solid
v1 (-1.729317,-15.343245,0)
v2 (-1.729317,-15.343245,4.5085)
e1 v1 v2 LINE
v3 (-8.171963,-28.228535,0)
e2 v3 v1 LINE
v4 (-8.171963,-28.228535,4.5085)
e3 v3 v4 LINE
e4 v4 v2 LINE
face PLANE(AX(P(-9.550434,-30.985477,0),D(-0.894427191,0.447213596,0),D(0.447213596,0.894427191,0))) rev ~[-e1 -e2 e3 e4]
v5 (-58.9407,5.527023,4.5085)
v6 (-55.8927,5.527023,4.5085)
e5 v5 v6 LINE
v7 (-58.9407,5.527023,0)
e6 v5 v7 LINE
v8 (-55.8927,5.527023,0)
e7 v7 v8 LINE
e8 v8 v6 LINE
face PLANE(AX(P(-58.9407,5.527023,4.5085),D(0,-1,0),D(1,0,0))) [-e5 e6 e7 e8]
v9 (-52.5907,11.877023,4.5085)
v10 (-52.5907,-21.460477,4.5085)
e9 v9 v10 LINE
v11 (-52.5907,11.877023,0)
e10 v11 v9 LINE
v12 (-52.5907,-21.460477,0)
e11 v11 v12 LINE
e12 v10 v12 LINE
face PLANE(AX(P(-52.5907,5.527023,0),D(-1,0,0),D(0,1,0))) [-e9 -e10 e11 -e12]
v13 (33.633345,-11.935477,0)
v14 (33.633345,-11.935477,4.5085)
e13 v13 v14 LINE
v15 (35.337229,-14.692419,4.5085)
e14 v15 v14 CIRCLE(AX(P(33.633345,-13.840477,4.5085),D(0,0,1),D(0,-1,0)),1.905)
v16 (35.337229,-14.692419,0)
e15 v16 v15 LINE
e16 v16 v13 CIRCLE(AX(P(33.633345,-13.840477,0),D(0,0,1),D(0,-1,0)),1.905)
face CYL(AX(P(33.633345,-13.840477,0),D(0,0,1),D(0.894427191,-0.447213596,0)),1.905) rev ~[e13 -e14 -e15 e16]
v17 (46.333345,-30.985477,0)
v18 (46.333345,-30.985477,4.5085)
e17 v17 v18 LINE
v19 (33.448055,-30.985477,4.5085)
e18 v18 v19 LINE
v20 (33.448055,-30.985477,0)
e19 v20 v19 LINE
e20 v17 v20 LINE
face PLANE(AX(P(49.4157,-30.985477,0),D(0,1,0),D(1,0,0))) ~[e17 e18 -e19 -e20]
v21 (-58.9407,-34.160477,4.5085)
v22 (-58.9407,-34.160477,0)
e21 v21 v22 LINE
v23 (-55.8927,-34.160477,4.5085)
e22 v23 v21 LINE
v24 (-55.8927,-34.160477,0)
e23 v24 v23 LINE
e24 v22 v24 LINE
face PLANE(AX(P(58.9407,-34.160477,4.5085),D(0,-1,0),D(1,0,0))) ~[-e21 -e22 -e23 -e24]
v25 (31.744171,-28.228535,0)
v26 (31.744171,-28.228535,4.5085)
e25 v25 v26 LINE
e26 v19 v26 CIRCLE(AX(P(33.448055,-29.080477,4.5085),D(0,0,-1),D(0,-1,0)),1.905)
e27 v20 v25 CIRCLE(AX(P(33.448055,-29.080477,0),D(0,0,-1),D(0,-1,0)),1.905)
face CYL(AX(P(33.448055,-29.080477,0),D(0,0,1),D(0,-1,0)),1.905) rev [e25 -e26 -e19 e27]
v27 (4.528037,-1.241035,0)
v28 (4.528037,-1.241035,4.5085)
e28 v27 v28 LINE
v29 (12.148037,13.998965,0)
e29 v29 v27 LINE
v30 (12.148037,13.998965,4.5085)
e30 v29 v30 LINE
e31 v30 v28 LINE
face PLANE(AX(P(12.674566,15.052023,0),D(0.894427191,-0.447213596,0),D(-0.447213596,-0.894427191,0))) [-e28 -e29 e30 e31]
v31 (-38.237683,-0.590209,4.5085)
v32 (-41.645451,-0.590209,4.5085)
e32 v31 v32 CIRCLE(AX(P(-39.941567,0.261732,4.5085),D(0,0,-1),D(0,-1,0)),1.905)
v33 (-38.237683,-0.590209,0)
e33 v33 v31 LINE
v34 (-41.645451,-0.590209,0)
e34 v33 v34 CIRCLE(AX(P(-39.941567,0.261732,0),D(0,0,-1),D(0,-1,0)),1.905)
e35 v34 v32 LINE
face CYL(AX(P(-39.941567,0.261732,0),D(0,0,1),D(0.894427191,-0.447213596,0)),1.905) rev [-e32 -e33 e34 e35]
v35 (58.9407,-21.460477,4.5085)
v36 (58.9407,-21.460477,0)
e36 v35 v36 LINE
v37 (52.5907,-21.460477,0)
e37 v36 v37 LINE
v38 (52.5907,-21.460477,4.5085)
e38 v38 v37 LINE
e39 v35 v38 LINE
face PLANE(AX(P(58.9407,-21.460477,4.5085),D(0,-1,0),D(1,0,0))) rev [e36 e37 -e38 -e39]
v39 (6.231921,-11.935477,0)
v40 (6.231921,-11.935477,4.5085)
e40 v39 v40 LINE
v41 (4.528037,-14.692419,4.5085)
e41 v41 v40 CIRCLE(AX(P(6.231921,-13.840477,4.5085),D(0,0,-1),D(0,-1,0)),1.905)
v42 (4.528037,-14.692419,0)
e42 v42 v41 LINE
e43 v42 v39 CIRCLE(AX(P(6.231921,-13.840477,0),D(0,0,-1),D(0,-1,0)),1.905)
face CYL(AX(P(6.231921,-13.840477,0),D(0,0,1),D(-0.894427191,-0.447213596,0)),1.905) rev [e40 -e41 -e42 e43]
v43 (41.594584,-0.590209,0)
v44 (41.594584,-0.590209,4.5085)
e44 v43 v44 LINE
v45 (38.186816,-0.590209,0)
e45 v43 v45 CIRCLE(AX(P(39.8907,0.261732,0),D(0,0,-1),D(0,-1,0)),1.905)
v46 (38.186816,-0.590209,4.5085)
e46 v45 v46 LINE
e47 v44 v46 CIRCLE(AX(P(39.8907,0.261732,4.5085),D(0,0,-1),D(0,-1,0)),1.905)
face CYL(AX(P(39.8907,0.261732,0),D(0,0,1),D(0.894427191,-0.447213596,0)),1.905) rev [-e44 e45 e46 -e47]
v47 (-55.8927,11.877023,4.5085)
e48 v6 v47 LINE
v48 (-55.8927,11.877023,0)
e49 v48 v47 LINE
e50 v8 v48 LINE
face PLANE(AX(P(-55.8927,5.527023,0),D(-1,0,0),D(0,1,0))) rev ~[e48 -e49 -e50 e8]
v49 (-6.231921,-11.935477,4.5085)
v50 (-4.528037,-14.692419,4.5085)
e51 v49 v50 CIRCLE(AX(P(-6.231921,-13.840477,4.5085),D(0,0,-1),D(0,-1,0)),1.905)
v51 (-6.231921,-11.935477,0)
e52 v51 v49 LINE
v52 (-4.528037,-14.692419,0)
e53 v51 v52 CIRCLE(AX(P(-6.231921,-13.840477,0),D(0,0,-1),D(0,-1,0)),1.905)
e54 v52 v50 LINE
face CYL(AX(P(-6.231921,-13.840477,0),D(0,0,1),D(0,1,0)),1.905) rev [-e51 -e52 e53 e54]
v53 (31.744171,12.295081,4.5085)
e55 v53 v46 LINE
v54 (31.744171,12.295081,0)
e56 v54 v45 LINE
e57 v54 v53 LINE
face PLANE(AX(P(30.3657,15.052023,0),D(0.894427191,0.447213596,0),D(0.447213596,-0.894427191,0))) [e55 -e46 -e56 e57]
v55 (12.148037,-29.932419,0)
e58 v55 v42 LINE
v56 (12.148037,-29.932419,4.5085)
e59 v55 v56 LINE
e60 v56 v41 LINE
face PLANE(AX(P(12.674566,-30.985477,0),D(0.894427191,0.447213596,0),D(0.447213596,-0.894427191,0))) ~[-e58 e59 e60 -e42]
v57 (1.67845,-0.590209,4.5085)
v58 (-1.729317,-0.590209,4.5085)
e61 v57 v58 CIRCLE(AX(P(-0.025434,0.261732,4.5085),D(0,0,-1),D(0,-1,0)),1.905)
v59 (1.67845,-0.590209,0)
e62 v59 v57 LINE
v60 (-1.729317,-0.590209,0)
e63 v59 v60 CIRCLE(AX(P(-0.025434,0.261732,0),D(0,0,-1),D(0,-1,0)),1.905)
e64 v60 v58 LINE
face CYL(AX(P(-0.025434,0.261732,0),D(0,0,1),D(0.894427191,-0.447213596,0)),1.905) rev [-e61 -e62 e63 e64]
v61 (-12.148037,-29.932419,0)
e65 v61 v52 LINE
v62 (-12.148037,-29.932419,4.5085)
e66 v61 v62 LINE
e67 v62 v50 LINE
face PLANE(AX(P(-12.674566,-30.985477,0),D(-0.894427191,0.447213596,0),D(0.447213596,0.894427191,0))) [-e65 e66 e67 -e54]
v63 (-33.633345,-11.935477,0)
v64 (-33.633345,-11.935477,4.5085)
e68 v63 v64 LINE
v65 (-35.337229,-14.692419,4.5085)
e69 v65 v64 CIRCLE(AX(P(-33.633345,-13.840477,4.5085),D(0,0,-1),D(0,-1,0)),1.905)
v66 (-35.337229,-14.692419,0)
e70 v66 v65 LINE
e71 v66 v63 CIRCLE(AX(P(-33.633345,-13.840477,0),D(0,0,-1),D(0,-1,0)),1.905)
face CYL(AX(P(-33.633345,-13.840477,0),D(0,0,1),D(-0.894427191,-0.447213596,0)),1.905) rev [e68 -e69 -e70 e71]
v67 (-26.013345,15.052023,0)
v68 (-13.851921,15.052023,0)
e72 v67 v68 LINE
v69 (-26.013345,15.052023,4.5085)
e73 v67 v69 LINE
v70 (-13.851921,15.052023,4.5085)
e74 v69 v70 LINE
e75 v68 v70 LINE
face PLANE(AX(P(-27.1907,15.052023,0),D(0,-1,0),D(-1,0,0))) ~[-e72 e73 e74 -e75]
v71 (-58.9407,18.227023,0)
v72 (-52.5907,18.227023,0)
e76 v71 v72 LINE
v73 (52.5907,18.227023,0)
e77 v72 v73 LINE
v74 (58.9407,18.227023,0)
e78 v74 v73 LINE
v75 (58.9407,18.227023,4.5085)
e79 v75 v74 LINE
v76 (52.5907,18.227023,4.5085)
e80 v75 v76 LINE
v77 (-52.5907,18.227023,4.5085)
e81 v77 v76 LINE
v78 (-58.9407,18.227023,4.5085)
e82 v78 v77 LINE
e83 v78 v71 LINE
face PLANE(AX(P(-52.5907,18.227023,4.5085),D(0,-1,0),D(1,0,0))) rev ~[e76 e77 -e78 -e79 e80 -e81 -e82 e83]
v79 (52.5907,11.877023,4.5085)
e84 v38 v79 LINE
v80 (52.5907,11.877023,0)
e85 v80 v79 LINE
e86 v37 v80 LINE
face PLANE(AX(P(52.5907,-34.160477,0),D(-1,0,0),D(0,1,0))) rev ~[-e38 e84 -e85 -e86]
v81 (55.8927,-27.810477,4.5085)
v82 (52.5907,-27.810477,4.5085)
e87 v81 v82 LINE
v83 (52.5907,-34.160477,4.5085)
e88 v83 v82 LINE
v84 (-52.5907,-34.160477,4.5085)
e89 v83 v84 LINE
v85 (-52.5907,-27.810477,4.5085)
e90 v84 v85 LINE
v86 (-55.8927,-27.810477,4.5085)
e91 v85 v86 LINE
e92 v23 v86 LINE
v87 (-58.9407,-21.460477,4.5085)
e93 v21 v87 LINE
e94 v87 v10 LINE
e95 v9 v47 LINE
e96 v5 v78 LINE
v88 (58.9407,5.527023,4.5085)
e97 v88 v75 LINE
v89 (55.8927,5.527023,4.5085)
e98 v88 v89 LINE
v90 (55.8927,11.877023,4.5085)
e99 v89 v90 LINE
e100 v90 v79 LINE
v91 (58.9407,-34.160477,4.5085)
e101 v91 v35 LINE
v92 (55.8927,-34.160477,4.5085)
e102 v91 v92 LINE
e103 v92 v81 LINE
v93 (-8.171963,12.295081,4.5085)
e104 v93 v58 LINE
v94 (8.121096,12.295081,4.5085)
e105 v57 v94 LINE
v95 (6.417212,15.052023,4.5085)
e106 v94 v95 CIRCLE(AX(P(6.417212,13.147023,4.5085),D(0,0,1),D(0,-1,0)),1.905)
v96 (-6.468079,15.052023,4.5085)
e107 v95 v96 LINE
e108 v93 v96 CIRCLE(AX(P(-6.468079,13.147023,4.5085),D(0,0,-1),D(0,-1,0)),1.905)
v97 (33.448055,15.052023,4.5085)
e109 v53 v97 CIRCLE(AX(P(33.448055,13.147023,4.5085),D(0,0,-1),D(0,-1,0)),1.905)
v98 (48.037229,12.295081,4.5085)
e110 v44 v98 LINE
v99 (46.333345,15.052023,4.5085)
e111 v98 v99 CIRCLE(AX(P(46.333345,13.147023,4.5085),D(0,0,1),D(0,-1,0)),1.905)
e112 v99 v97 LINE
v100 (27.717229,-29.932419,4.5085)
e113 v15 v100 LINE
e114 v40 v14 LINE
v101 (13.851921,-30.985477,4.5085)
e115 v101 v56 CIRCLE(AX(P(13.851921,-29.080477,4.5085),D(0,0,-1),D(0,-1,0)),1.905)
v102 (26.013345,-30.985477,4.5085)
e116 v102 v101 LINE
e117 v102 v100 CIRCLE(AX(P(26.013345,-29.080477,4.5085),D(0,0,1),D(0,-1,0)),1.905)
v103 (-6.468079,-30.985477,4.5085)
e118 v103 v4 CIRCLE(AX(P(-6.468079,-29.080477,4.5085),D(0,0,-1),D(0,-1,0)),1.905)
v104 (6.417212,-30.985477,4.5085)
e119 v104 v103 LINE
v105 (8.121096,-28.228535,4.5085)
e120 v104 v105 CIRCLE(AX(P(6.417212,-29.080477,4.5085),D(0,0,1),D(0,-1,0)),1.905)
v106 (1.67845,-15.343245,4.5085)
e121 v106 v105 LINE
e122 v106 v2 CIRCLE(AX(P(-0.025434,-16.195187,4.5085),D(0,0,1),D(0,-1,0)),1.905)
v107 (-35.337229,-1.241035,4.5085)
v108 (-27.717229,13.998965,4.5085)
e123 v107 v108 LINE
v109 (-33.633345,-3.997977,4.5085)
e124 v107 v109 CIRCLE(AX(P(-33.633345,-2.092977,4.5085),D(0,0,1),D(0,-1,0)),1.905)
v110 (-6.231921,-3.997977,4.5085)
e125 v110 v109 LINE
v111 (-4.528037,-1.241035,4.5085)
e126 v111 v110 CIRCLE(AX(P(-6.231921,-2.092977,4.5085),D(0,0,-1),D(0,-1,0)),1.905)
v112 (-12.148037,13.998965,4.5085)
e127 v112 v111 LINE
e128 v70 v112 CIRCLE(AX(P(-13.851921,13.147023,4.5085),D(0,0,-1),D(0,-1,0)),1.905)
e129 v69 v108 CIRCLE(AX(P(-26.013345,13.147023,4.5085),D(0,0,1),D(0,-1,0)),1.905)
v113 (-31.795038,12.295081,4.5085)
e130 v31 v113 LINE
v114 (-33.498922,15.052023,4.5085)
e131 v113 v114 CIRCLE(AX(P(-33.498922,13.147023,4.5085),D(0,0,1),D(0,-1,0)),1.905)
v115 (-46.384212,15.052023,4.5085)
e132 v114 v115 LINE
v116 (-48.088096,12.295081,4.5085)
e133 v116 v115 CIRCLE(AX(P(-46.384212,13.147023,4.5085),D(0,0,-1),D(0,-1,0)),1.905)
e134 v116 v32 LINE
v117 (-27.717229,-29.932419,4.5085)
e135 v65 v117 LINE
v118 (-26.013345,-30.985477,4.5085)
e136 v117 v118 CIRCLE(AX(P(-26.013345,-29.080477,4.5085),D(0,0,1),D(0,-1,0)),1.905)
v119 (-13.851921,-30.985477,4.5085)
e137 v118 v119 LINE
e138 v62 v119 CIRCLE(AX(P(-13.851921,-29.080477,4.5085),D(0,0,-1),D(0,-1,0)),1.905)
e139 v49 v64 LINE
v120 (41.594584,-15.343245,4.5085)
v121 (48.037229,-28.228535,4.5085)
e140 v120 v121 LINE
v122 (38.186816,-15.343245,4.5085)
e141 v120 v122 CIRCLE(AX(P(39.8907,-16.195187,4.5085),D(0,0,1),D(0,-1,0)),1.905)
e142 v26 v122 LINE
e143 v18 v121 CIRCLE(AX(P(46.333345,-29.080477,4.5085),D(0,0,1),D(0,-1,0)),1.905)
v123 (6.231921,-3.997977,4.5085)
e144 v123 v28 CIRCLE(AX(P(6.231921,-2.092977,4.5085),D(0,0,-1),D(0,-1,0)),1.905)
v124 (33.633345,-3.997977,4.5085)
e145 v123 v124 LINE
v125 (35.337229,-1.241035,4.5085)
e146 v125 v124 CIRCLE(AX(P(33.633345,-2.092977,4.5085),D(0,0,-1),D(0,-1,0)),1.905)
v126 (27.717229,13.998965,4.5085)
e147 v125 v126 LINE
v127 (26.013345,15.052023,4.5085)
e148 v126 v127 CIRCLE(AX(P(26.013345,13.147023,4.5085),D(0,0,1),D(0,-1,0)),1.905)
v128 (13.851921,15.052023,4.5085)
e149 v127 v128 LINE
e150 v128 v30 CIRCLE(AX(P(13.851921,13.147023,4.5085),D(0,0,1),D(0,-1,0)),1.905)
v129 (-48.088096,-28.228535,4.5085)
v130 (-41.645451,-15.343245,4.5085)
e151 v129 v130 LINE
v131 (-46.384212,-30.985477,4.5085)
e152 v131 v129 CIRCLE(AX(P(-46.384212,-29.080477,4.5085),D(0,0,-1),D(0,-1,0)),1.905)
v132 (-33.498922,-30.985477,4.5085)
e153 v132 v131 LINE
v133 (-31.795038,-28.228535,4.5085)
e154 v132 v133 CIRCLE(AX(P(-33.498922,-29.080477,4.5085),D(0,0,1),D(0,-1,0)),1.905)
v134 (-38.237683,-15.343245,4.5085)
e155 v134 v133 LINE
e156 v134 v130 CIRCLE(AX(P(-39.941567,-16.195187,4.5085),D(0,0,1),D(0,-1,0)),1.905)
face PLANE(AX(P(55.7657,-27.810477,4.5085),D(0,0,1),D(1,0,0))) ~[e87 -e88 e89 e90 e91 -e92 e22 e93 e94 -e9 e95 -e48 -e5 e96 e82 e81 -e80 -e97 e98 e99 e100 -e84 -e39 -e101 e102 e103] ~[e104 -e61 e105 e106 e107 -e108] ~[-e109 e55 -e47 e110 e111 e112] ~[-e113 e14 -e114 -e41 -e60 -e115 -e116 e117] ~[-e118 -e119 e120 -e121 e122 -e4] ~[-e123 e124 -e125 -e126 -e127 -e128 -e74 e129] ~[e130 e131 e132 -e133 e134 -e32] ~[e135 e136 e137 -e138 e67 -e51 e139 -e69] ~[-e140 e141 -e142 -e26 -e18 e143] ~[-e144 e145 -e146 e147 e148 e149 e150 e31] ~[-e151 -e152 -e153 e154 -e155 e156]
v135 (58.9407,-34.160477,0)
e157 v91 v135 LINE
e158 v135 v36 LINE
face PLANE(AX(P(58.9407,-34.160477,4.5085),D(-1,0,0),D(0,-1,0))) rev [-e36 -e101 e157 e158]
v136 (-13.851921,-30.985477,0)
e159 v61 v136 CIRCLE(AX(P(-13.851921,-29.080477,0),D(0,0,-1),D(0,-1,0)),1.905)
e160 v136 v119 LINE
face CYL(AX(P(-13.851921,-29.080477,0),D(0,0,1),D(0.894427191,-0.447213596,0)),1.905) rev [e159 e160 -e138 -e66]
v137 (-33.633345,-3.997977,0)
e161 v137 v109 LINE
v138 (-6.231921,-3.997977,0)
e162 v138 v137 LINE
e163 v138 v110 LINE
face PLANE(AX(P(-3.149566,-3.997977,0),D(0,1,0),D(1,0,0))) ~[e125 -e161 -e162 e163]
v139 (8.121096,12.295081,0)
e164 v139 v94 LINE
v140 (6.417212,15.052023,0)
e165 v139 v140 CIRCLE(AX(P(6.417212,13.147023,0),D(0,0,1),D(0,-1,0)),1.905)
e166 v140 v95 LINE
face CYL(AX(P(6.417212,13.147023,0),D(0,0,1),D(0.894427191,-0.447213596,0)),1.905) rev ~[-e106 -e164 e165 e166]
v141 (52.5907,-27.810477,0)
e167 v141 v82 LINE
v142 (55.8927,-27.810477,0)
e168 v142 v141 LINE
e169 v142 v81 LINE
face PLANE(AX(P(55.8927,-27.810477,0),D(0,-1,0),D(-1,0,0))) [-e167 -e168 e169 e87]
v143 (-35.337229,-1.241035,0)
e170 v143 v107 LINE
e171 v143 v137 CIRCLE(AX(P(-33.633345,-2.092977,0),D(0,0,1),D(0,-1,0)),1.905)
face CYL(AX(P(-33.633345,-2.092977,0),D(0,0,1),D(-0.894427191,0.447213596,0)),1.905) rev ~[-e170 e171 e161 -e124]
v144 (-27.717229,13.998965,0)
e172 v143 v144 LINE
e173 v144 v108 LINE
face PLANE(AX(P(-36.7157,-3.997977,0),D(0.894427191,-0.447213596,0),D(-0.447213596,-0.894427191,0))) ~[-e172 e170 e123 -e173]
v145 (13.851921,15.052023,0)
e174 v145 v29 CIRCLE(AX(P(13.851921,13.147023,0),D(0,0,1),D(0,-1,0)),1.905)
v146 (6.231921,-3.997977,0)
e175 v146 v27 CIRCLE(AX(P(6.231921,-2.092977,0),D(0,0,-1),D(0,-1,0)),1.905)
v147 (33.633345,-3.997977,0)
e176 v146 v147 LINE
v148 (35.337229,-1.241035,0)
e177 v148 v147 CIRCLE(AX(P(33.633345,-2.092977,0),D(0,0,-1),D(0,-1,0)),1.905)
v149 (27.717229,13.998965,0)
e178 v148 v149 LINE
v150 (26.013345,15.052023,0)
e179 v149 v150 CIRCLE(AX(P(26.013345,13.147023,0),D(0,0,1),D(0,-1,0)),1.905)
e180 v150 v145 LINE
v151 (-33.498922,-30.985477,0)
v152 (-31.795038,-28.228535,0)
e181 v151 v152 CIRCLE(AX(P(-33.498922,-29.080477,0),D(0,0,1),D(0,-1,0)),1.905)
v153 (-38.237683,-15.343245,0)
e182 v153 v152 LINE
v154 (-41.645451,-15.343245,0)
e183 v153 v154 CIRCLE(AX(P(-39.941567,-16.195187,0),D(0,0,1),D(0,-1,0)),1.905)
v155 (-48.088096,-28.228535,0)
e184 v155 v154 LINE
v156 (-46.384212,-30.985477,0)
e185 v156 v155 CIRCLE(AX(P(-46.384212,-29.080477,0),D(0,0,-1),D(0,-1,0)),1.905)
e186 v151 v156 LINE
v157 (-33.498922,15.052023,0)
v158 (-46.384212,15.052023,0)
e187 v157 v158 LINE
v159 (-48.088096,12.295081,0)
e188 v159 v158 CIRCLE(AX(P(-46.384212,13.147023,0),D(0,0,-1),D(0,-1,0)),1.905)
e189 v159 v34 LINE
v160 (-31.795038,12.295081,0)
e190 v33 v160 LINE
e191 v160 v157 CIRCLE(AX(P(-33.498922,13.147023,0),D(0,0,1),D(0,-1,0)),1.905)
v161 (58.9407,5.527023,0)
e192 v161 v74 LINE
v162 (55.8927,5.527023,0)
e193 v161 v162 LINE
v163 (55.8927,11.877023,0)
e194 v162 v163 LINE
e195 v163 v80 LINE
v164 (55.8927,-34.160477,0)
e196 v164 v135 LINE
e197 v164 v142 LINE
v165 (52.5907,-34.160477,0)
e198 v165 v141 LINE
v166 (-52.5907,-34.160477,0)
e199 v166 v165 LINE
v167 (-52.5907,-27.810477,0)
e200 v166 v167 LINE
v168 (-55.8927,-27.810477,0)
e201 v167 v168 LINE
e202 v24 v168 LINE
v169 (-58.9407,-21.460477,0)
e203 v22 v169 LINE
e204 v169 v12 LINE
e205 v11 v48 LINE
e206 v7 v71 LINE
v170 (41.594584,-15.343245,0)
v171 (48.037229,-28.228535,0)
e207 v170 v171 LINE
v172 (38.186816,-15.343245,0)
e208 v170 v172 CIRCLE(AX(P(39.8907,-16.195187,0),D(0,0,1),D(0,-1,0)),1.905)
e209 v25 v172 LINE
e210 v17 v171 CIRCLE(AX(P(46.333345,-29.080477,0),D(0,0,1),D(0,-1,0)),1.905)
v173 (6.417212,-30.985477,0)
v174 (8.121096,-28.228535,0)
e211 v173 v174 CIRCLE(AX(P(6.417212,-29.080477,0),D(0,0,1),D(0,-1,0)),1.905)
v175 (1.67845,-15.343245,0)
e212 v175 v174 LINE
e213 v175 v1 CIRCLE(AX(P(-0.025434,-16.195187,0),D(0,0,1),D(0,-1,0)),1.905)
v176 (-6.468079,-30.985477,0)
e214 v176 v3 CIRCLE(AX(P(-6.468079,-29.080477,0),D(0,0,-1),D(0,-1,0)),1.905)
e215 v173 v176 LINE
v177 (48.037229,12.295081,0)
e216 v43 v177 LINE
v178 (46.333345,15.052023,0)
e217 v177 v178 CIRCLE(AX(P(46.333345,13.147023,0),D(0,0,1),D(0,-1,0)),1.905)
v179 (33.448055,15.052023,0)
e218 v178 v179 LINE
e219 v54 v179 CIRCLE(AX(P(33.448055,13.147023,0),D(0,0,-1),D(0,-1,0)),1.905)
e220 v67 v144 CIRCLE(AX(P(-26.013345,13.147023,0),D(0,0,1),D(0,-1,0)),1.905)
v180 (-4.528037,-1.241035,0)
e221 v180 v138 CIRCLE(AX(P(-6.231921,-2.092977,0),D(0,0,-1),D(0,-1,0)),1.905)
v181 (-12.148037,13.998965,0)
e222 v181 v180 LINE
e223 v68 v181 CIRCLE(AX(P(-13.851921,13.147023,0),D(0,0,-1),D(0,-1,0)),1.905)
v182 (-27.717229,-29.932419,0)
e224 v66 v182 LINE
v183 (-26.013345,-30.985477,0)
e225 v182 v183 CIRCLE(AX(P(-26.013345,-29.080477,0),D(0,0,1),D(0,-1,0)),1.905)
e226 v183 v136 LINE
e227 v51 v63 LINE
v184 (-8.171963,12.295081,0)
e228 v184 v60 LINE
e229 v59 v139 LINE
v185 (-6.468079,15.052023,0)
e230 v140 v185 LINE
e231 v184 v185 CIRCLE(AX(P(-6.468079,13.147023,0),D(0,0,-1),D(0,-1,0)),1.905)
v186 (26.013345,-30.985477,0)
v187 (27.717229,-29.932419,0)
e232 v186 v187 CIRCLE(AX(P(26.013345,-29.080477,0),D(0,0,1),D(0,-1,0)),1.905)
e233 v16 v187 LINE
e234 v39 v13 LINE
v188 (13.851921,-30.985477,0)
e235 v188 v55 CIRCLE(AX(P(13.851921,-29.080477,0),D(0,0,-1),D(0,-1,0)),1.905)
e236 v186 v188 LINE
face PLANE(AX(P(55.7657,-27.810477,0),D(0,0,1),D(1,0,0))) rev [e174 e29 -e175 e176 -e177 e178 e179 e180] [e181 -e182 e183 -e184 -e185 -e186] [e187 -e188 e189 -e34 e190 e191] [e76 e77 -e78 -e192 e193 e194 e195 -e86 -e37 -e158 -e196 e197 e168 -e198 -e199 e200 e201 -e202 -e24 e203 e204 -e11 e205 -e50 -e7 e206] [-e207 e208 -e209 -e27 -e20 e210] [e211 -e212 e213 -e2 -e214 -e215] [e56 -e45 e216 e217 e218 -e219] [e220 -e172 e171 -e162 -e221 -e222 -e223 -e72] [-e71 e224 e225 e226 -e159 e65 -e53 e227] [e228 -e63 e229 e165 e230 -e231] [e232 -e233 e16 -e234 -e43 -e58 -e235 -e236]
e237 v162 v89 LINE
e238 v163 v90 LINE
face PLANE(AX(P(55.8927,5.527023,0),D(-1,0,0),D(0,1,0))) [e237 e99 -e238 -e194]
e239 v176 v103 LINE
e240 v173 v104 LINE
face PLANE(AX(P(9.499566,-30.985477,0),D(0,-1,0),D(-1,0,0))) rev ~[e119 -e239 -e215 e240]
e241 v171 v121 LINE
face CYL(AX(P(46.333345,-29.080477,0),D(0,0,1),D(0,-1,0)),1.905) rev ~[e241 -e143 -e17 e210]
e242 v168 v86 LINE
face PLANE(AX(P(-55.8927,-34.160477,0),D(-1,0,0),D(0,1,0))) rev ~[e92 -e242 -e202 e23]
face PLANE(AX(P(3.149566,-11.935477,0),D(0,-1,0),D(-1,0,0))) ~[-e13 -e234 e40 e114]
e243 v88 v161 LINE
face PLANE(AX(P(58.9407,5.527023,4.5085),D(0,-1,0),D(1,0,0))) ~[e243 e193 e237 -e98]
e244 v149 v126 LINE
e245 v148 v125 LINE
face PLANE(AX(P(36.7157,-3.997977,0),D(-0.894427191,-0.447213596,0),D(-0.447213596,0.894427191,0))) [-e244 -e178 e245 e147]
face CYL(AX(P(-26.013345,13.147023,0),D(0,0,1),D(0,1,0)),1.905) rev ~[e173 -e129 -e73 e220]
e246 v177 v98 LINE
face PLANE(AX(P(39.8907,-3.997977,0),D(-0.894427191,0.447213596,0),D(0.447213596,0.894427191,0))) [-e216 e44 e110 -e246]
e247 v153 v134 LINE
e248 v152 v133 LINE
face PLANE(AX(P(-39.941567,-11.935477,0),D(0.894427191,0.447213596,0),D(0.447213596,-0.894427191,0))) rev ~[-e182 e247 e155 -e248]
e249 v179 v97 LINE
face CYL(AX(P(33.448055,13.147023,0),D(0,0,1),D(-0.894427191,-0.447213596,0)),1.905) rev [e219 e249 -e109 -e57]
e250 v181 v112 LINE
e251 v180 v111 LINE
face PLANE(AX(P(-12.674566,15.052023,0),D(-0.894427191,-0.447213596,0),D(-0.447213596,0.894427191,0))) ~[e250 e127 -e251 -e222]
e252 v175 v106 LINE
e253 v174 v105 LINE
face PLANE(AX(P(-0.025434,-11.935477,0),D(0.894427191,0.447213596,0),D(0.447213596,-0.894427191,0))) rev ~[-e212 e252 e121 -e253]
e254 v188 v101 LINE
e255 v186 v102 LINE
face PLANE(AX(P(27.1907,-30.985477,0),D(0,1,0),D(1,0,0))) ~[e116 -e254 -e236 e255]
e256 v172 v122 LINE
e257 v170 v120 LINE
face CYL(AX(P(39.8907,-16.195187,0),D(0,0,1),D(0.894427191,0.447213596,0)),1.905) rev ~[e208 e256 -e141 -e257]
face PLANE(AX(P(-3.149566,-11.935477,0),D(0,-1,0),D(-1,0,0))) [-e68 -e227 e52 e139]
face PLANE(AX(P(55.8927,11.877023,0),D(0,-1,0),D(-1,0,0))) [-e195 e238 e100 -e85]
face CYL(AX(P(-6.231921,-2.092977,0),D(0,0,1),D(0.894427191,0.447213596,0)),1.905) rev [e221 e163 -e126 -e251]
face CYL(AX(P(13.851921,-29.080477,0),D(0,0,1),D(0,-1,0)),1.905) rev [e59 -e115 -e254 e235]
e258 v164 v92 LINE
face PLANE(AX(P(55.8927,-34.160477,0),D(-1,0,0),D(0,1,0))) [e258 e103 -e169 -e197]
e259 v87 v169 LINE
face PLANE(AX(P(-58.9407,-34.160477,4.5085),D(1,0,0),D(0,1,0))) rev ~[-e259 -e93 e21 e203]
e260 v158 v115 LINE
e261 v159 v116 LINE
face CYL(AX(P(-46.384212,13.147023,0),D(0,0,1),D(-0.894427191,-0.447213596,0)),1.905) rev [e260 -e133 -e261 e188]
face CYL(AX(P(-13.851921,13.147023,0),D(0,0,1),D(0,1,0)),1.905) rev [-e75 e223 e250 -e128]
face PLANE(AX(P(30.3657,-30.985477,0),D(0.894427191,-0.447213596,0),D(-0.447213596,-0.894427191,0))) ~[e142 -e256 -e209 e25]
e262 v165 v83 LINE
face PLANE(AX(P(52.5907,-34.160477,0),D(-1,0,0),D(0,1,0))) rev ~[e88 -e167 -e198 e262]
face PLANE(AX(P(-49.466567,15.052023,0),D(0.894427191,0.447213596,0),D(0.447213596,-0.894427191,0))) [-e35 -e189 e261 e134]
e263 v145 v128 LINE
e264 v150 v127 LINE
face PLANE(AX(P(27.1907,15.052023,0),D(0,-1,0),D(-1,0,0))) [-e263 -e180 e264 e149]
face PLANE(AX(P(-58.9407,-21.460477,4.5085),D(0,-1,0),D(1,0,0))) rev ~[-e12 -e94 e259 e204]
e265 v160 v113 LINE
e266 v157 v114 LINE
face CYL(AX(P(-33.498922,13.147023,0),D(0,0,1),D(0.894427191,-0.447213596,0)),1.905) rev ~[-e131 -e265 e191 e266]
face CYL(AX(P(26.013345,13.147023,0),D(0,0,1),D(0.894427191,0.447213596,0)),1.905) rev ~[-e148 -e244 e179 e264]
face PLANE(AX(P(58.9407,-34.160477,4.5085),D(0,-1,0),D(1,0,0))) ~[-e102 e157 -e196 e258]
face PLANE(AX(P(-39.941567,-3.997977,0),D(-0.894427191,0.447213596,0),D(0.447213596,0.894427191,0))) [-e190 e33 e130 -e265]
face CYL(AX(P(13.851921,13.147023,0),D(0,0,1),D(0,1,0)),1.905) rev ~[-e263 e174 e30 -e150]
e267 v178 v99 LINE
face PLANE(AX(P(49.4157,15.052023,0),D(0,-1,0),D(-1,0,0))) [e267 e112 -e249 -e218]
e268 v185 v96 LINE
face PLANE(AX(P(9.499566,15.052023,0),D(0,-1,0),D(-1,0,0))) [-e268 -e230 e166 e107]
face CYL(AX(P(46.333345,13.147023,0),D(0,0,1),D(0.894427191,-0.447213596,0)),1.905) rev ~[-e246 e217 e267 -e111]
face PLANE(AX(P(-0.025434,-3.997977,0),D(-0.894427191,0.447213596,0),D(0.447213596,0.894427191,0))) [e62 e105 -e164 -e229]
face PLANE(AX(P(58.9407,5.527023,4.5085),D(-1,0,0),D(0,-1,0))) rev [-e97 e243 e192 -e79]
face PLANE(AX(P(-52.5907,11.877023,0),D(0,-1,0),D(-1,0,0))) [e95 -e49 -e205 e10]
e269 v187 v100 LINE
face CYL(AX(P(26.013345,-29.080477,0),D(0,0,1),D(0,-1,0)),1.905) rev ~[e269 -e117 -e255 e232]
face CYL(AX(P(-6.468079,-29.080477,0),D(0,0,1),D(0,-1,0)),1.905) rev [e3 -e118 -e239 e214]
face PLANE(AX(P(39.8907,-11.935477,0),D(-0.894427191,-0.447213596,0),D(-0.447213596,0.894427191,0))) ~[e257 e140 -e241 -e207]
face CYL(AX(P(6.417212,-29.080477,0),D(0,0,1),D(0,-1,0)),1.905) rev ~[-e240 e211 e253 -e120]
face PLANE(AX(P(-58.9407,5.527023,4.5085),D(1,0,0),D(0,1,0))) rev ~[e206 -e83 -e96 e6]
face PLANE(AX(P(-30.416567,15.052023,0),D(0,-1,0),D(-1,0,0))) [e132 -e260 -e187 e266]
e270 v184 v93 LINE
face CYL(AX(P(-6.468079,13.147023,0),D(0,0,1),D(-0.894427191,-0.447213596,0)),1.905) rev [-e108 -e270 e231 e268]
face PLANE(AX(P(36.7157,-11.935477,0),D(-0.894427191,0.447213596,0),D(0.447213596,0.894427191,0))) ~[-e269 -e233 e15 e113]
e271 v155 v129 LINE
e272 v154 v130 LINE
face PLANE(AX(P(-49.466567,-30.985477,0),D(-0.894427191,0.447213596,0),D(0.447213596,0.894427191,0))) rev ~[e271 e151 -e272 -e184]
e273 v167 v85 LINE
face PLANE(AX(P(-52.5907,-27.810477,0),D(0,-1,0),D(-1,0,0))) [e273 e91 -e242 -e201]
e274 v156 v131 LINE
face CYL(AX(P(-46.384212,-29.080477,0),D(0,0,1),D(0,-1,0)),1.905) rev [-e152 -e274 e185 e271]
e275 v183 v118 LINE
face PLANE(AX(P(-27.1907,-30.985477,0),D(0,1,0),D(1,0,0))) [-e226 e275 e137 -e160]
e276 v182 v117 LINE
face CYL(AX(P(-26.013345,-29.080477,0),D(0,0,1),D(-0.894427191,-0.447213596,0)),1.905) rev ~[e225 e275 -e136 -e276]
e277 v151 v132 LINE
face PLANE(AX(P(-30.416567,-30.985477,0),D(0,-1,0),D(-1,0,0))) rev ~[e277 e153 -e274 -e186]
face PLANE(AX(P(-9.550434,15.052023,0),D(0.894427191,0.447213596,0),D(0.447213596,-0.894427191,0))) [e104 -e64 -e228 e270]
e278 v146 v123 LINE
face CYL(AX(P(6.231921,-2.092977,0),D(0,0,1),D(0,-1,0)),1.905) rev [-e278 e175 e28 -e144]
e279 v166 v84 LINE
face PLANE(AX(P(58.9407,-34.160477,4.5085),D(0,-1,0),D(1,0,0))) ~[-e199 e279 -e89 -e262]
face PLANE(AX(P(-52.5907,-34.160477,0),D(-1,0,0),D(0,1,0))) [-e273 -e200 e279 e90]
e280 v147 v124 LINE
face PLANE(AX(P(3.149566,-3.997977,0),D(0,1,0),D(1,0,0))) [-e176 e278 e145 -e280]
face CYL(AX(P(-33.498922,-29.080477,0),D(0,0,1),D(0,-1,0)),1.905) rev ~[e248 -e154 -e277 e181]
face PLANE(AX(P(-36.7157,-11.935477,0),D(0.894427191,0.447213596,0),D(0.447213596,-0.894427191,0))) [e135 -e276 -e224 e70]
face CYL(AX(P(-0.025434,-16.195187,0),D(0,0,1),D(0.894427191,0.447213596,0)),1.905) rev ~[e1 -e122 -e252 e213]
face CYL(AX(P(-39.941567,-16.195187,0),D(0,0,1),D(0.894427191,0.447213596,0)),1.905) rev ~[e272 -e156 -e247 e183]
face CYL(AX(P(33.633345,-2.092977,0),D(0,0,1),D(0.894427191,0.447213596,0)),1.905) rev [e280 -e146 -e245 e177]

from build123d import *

# Parameters (mm, degrees)
SKETCH1_W            = 105.1814
SKETCH1_H            = 68.320954018
BOSS_EXTRUDE1_DEPTH  = 4.5085
SKETCH2_W            = 105.1814
SKETCH2_H            = 15.933454036
CUT_EXTRUDE1_DEPTH   = 10.795
SKETCH3_W            = 6.35
SKETCH3_H            = 12.7
BOSS_EXTRUDE2_DEPTH  = 4.5085
CUT_EXTRUDE2_DEPTH   = 4.7625
LPATTERN1_COUNT      = 3
LPATTERN1_PITCH      = 39.916133528
CUT_EXTRUDE3_DEPTH   = 4.7625
FILLET2_R            = 1.905
MIRROR3_COPY_1_DEPTH = 4.7625
MIRROR3_COPY_2_DEPTH = 4.7625
MIRROR3_COPY_3_DEPTH = 4.7625
FILLET3_R            = 1.905
SKETCH6_W            = 3.302
SKETCH6_H            = 6.35
CUT_EXTRUDE4_DEPTH   = 6.35


with BuildPart() as part:
    # Sketch1 → Boss-Extrude1 (new body)
    with BuildSketch(Plane.XY):
        Rectangle(SKETCH1_W, SKETCH1_H)
    extrude(amount=BOSS_EXTRUDE1_DEPTH)

    # Sketch2 → Cut-Extrude1 (cut)
    with BuildSketch(Plane.XY.offset(4.5085)):
        with Locations((0, 26.193749991)):
            Rectangle(SKETCH2_W, SKETCH2_H)
    extrude(amount=-CUT_EXTRUDE1_DEPTH, mode=Mode.SUBTRACT)

    # Sketch3 → Boss-Extrude2 (add)
    with BuildSketch(Plane.XY.offset(4.5085)):
        with Locations((-55.7657, -27.810477009)):
            Rectangle(SKETCH3_W, SKETCH3_H)
        with Locations((-55.7657, 11.877022991)):
            Rectangle(SKETCH3_W, SKETCH3_H)
    boss_extrude2 = extrude(amount=-BOSS_EXTRUDE2_DEPTH)

    # Mirror1: Boss-Extrude2 across plane
    add(boss_extrude2.mirror(Plane(origin=(0, 0, 0), x_dir=(0, 0, 1), z_dir=(1, 0, 0))))

    # Sketch4 → Cut-Extrude2 (cut)
    with BuildSketch(Plane(origin=(0, 0, 0), x_dir=(-1, 0, 0), z_dir=(0, 0, -1))):
        Polygon((-49.4157, 15.052022991), (-30.3657, 15.052022991), (-39.8907, -3.997977009), align=None)
    cut_extrude2 = extrude(amount=-CUT_EXTRUDE2_DEPTH, mode=Mode.SUBTRACT)

    # LPattern1: Cut-Extrude2 ×3
    with Locations(*[(-i * LPATTERN1_PITCH, 0, 0) for i in range(1, LPATTERN1_COUNT)]):
        add(cut_extrude2, mode=Mode.SUBTRACT)

    # Sketch5 → Cut-Extrude3 (cut)
    with BuildSketch(Plane(origin=(0, 0, 0), x_dir=(-1, 0, 0), z_dir=(0, 0, -1))):
        Polygon((-27.1907, 15.052022991), (-12.674566472, 15.052022991), (-3.149566472, -3.997977009), (-36.7157, -3.997977009), align=None)
    cut_extrude3 = extrude(amount=-CUT_EXTRUDE3_DEPTH, mode=Mode.SUBTRACT)

    # Mirror2: Cut-Extrude3 across plane
    add(cut_extrude3.mirror(Plane(origin=(0, 0, 0), x_dir=(0, 0, 1), z_dir=(1, 0, 0))), mode=Mode.SUBTRACT)

    # Fillet2
    fillet2_edges = [part.edges().sort_by_distance(p)[0] for p in [
        (-0.025433528, -3.997977009, 2.25425),
        (9.499566472, 15.052022991, 2.25425),
        (-9.550433528, 15.052022991, 2.25425),
        (-30.416567056, 15.052022991, 2.25425),
        (-39.941567056, -3.997977009, 2.25425),
        (-49.466567056, 15.052022991, 2.25425),
        (39.8907, -3.997977009, 2.25425),
        (49.4157, 15.052022991, 2.25425),
        (30.3657, 15.052022991, 2.25425),
    ]]
    fillet(fillet2_edges, radius=FILLET2_R)

    # Mirror3: Cut-Extrude2, Cut-Extrude3 across plane
    add(cut_extrude2.mirror(Plane.ZX.offset(-7.966727018)), mode=Mode.SUBTRACT)
    add(cut_extrude3.mirror(Plane.ZX.offset(-7.966727018)), mode=Mode.SUBTRACT)

    # Mirror3 copy 1 sketch → Mirror3 copy 1 (cut)
    with BuildSketch(Plane(origin=(-39.916133528, -15.933454036, 0), x_dir=(-1, 0, 0), z_dir=(0, 0, -1))):
        Polygon((-49.4157, -15.052022991), (-30.3657, -15.052022991), (-39.8907, 3.997977009), align=None)
    extrude(amount=-MIRROR3_COPY_1_DEPTH, mode=Mode.SUBTRACT)

    # Mirror3 copy 2 sketch → Mirror3 copy 2 (cut)
    with BuildSketch(Plane(origin=(-79.832267056, -15.933454036, 0), x_dir=(-1, 0, 0), z_dir=(0, 0, -1))):
        Polygon((-49.4157, -15.052022991), (-30.3657, -15.052022991), (-39.8907, 3.997977009), align=None)
    extrude(amount=-MIRROR3_COPY_2_DEPTH, mode=Mode.SUBTRACT)

    # Mirror3 copy 3 sketch → Mirror3 copy 3 (cut)
    with BuildSketch(Plane(origin=(0, -15.933454036, 0), x_dir=(1, 0, 0), z_dir=(0, 0, -1))):
        Polygon((-27.1907, 15.052022991), (-12.674566472, 15.052022991), (-3.149566472, -3.997977009), (-36.7157, -3.997977009), align=None)
    extrude(amount=-MIRROR3_COPY_3_DEPTH, mode=Mode.SUBTRACT)

    # Fillet3
    fillet3_edges = [part.edges().sort_by_distance(p)[0] for p in [
        (36.7157, -3.997977009, 2.25425),
        (27.1907, 15.052022991, 2.25425),
        (12.674566472, 15.052022991, 2.25425),
        (3.149566472, -3.997977009, 2.25425),
        (-27.1907, 15.052022991, 2.25425),
        (-36.7157, -3.997977009, 2.25425),
        (-3.149566472, -3.997977009, 2.25425),
        (-12.674566472, 15.052022991, 2.25425),
        (49.4157, -30.985477027, 2.25425),
        (39.8907, -11.935477027, 2.25425),
        (30.3657, -30.985477027, 2.25425),
        (9.499566472, -30.985477027, 2.25425),
        (-0.025433528, -11.935477027, 2.25425),
        (-9.550433528, -30.985477027, 2.25425),
        (-30.416567056, -30.985477027, 2.25425),
        (-39.941567056, -11.935477027, 2.25425),
        (-49.466567056, -30.985477027, 2.25425),
        (-36.7157, -11.935477027, 2.25425),
        (-27.1907, -30.985477027, 2.25425),
        (-12.674566472, -30.985477027, 2.25425),
        (-3.149566472, -11.935477027, 2.25425),
        (27.1907, -30.985477027, 2.25425),
        (36.7157, -11.935477027, 2.25425),
        (3.149566472, -11.935477027, 2.25425),
        (12.674566472, -30.985477027, 2.25425),
    ]]
    fillet(fillet3_edges, radius=FILLET3_R)

    # Sketch6 → Cut-Extrude4 (cut)
    with BuildSketch(Plane(origin=(0, 0, 0), x_dir=(-1, 0, 0), z_dir=(0, 0, -1))):
        with Locations((-54.2417, 8.702022991)):
            Rectangle(SKETCH6_W, SKETCH6_H)
        with Locations((54.2417, 8.702022991)):
            Rectangle(SKETCH6_W, SKETCH6_H)
        with Locations((-54.2417, -30.985477009)):
            Rectangle(SKETCH6_W, SKETCH6_H)
        with Locations((54.2417, -30.985477009)):
            Rectangle(SKETCH6_W, SKETCH6_H)
    extrude(amount=-CUT_EXTRUDE4_DEPTH, mode=Mode.SUBTRACT)


solid = part.part
